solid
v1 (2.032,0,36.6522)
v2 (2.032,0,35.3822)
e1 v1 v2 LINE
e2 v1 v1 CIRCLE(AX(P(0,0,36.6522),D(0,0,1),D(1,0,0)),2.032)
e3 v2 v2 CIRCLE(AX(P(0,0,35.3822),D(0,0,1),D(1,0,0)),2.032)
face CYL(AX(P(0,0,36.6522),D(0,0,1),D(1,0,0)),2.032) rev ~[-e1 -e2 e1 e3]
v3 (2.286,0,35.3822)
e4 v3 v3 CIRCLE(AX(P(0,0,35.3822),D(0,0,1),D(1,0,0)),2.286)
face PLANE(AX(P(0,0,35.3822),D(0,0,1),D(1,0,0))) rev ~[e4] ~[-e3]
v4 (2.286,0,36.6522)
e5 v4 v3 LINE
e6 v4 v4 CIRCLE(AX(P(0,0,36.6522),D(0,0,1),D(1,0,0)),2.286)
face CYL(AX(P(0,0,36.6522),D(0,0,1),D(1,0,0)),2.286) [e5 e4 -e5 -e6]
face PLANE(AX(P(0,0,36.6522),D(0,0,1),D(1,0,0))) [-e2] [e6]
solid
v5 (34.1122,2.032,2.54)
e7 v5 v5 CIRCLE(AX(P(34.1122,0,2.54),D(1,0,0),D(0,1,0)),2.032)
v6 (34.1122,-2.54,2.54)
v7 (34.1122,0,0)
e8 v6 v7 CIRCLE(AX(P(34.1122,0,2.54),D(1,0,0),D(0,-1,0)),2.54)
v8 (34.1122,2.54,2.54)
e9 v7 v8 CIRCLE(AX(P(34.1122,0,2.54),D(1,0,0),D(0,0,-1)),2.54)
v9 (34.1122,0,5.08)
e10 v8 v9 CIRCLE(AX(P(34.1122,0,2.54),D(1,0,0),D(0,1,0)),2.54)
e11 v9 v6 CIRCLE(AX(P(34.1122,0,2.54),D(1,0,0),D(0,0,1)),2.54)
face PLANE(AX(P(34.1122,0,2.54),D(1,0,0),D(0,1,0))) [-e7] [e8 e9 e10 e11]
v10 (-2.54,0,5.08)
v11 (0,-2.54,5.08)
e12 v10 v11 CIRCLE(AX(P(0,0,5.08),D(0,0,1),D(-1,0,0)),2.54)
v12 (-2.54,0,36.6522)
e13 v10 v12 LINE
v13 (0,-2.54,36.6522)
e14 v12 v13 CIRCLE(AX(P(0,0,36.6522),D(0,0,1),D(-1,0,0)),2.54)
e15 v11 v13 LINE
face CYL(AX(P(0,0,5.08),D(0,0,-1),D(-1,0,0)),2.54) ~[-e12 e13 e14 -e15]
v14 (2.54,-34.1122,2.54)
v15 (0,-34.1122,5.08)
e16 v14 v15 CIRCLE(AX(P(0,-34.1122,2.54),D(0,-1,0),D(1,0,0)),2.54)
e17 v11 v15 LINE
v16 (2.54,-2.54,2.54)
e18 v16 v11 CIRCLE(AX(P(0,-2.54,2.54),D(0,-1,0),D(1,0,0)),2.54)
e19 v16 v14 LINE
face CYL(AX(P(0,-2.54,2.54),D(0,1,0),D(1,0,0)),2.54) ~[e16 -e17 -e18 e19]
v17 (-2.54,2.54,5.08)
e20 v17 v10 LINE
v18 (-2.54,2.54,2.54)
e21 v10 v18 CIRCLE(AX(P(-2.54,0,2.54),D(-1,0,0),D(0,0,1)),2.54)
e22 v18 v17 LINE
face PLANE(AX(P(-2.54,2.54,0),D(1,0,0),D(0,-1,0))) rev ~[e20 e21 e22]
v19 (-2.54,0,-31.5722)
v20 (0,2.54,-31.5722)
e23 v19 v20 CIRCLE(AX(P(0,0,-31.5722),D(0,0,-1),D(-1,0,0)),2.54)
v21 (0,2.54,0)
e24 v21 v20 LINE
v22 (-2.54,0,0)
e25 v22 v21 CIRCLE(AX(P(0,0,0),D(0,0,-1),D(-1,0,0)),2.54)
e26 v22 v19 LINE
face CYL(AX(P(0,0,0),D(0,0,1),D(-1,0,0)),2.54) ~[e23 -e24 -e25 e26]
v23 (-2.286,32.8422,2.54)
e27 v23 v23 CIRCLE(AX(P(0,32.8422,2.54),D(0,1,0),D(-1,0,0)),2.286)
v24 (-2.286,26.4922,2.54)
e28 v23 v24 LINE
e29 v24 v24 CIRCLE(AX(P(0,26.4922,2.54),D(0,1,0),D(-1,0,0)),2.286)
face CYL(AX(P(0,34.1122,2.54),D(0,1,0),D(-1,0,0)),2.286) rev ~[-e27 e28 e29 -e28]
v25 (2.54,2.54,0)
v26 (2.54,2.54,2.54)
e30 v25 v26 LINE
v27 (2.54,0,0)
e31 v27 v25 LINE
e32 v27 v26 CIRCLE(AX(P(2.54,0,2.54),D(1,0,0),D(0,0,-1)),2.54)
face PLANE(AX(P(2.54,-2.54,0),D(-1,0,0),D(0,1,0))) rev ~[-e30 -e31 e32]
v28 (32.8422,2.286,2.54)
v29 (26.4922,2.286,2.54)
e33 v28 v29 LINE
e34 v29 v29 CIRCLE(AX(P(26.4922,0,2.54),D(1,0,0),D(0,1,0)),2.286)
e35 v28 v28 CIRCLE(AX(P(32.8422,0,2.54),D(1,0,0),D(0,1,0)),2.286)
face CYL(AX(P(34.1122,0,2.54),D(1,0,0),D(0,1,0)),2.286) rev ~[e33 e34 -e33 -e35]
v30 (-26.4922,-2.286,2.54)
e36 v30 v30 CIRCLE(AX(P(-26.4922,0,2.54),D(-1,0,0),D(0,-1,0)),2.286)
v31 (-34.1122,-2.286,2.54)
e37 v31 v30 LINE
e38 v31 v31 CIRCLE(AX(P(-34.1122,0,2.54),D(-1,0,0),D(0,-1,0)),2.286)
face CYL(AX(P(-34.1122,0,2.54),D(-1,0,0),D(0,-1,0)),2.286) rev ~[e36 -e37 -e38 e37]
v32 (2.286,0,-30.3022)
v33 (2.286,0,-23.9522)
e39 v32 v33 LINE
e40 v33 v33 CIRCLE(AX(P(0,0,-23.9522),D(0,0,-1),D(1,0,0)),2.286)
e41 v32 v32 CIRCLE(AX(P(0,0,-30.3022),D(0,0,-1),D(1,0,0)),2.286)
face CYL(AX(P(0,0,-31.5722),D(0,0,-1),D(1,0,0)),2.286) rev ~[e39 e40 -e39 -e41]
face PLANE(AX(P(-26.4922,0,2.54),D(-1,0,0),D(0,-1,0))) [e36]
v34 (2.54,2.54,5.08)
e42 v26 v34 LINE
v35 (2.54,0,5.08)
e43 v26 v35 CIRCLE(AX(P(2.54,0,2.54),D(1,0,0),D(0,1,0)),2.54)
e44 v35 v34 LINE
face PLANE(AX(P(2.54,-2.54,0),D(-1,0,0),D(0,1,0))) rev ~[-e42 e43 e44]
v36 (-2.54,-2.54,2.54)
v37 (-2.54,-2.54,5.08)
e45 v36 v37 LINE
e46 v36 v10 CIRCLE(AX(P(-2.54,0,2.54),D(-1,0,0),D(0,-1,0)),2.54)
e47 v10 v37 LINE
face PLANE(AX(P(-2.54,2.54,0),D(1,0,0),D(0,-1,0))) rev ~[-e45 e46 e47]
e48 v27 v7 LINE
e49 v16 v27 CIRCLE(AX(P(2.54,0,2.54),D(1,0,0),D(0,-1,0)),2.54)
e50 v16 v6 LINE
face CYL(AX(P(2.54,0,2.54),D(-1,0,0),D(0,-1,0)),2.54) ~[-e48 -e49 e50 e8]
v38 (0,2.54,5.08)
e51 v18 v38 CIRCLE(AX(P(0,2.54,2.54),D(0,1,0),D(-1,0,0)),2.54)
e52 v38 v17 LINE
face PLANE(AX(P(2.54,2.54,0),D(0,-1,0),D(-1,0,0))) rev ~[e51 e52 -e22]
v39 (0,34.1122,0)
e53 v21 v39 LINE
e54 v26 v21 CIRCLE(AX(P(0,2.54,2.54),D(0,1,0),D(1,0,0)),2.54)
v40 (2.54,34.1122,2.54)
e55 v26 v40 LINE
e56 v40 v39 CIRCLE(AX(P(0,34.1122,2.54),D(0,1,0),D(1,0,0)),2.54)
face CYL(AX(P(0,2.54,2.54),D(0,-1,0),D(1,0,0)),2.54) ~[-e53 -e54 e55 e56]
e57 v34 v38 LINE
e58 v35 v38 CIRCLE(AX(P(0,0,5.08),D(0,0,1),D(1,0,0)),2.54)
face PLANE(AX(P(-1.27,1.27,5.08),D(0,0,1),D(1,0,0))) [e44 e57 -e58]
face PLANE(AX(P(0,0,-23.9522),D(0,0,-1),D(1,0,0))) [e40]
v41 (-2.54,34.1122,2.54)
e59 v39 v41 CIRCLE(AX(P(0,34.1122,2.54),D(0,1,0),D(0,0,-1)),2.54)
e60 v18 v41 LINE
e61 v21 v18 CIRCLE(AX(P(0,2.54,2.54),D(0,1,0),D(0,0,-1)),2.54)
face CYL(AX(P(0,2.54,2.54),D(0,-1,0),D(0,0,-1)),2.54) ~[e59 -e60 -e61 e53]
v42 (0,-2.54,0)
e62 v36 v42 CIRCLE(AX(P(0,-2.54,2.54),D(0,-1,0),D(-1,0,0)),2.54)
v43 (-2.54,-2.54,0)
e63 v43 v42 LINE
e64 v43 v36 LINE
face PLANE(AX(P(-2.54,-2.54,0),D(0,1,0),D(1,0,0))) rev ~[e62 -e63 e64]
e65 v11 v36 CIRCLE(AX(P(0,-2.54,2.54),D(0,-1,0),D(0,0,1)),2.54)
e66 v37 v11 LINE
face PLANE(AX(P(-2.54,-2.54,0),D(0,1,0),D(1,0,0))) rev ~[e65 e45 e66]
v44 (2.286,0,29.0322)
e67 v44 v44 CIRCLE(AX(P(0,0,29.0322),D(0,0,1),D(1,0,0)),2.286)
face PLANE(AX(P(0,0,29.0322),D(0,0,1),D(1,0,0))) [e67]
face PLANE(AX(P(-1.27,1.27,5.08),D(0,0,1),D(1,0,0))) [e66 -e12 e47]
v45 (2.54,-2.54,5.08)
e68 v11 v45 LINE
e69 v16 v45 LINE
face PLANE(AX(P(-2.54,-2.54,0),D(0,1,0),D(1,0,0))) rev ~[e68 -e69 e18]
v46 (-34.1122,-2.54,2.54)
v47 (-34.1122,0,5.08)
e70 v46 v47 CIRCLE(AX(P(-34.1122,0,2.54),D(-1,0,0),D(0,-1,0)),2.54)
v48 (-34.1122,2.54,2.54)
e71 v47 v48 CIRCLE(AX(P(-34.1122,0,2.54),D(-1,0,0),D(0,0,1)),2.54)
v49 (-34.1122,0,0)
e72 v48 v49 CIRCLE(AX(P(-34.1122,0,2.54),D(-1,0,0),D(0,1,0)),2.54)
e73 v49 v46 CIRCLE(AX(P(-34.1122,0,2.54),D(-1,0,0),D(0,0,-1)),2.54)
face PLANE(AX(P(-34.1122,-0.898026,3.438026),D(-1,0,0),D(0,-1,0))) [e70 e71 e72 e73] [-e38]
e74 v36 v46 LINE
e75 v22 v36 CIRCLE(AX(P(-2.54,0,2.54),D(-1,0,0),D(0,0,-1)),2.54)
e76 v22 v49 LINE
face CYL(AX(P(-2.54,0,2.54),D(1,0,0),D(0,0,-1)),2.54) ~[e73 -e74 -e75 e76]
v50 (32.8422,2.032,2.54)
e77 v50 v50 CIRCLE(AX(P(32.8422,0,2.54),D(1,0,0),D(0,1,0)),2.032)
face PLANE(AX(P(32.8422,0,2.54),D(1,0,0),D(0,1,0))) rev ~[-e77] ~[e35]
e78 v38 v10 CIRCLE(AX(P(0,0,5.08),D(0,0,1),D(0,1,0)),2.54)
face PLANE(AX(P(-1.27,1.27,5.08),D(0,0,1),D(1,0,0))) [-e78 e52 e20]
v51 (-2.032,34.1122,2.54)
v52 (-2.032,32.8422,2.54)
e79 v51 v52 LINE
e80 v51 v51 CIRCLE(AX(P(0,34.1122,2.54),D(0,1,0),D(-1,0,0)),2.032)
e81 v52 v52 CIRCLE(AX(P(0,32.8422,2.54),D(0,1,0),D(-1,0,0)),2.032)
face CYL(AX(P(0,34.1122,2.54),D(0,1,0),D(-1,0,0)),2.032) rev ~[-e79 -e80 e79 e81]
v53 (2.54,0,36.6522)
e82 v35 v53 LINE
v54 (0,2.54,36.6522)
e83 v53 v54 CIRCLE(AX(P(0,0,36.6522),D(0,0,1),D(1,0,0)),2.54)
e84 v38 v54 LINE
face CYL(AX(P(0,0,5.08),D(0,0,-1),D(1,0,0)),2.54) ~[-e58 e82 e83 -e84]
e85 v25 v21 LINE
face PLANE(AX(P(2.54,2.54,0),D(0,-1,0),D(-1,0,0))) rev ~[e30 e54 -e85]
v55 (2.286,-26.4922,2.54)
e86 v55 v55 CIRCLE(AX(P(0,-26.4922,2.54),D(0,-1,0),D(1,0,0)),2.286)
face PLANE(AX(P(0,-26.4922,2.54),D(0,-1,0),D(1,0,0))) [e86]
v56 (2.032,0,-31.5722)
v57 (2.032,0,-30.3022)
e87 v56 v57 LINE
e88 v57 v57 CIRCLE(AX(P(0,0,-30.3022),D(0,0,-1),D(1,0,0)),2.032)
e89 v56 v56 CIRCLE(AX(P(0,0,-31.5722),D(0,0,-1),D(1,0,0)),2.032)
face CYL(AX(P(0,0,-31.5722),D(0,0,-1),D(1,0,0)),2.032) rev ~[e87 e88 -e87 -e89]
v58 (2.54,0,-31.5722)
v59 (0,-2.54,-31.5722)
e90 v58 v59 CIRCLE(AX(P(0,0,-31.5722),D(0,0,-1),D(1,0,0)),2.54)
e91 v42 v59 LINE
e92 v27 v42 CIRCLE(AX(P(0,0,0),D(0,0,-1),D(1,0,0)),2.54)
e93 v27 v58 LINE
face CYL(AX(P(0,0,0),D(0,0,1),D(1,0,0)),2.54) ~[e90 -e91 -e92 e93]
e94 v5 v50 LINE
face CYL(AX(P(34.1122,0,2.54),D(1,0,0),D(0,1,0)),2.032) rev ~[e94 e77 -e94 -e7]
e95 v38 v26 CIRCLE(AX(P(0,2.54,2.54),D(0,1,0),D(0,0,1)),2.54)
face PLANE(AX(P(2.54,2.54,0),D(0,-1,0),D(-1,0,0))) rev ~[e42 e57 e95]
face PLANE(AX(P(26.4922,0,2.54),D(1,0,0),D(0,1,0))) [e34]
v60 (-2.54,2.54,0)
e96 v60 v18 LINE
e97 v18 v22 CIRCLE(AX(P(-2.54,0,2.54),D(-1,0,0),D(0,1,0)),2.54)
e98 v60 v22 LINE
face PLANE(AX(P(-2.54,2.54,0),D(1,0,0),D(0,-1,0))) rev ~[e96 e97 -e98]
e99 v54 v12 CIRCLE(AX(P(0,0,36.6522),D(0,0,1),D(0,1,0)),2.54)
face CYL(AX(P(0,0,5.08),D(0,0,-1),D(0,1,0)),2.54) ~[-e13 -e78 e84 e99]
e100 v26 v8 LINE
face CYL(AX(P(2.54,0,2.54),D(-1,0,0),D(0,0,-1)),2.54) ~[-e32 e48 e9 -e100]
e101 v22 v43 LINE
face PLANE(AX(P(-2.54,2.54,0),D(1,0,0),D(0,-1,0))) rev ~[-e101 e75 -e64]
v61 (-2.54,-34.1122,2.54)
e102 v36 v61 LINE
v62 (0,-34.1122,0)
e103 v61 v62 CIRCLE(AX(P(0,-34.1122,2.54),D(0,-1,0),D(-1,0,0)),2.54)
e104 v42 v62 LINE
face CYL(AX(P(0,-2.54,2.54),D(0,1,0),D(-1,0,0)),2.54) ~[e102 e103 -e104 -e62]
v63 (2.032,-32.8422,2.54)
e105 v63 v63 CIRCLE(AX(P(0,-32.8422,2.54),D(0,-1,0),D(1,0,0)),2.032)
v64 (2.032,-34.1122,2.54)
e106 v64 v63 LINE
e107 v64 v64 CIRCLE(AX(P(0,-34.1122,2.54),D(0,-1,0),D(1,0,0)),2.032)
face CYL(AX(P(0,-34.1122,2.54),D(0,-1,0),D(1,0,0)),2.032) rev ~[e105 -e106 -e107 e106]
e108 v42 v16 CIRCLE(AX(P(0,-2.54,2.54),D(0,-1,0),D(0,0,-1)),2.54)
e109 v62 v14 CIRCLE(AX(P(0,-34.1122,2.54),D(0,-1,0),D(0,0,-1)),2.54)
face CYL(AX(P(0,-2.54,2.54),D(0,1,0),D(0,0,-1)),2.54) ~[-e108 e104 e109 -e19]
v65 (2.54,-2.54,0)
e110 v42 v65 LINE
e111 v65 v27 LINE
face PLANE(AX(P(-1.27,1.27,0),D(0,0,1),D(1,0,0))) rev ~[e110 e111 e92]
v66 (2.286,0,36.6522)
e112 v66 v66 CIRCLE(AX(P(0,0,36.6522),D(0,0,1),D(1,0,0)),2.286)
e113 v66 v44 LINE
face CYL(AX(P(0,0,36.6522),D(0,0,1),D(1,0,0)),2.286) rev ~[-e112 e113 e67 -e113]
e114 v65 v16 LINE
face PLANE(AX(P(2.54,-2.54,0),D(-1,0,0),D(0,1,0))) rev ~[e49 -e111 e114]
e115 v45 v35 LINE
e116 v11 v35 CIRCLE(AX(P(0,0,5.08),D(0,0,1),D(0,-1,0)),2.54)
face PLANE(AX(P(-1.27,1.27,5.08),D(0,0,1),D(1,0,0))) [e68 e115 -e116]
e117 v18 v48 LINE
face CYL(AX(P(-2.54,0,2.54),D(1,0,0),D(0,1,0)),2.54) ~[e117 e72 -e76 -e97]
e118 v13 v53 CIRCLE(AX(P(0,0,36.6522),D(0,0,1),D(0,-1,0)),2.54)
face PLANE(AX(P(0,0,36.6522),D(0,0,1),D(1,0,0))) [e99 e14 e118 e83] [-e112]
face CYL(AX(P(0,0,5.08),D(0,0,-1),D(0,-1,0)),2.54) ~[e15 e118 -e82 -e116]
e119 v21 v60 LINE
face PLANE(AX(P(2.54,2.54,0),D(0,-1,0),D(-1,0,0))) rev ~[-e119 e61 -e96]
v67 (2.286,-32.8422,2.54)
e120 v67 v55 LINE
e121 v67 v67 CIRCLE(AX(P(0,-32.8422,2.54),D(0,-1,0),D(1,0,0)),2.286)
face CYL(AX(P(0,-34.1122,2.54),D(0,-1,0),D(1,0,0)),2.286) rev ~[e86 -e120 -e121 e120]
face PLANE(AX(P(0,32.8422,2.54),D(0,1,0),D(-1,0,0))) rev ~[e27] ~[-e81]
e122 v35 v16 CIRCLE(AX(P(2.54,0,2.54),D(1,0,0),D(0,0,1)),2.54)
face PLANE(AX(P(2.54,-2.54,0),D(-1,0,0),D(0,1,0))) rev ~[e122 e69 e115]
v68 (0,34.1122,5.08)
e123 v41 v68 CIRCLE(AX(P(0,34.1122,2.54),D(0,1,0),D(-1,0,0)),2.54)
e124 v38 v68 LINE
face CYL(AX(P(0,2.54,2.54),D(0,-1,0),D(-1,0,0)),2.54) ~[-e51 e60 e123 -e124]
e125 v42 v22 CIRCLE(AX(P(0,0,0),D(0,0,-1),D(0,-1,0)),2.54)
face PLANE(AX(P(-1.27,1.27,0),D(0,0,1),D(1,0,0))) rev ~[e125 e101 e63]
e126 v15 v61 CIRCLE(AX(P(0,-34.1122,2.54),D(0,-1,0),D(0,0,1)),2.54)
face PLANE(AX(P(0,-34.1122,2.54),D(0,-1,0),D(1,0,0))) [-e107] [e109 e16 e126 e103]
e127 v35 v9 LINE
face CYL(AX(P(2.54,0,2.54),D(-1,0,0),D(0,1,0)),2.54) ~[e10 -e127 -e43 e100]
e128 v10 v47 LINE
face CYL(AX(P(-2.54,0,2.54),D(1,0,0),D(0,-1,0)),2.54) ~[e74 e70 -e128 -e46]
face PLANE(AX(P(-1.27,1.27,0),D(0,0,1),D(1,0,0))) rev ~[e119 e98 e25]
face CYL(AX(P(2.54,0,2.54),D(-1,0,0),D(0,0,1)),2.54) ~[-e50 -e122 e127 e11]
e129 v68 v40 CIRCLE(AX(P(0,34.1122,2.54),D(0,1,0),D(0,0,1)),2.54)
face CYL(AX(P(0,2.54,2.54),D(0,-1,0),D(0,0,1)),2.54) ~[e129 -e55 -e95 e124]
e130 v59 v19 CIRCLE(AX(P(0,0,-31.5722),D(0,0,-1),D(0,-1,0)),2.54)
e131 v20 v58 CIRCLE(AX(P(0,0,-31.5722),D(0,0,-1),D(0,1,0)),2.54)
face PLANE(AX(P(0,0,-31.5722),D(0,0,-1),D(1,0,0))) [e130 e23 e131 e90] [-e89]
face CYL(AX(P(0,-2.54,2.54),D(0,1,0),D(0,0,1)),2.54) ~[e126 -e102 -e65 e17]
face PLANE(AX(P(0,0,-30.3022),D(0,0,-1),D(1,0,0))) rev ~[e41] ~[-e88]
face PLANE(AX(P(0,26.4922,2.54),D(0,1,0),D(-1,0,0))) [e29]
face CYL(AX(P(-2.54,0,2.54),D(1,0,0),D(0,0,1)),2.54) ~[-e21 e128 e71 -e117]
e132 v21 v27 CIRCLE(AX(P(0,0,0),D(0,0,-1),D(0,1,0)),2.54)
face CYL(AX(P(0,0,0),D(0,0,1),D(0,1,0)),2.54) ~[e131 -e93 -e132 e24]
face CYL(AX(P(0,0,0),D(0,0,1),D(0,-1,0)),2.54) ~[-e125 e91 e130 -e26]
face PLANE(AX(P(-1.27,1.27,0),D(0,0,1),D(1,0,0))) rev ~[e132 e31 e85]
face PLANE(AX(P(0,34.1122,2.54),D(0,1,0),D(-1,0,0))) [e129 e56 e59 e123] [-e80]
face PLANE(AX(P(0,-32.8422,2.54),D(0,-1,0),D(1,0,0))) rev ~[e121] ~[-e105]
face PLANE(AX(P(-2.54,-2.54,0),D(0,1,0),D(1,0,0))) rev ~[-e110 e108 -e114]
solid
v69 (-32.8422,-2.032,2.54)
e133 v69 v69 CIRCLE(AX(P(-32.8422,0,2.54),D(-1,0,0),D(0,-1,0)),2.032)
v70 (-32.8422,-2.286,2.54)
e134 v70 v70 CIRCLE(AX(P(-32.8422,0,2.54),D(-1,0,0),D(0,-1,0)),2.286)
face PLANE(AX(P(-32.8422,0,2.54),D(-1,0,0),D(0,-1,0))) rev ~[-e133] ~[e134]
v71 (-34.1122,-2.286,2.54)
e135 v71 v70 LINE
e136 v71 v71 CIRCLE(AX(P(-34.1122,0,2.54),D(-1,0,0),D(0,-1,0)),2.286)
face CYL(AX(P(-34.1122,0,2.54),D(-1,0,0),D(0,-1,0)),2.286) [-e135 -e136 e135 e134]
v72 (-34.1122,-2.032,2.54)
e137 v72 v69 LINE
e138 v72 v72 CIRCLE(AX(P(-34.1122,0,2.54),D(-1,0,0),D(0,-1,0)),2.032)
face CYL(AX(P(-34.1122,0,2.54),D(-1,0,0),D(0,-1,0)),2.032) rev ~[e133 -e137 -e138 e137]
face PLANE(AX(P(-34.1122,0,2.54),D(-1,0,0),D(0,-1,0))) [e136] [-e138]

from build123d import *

# Parameters (mm, degrees)
F0_W      = 2.54
F0_H      = 2.54
F1_DEPTH  = 5.08
F8_DEPTH  = 31.5722
F9_R      = 2.286
F9_R_2    = 2.032
F10_DEPTH = 7.62
F11_DEPTH = 1.27
F12_DEPTH = 31.5722
F13_R     = 2.286
F13_R_2   = 2.032
F14_DEPTH = 7.62
F15_DEPTH = 1.27
F16_DEPTH = 31.5722
F17_R     = 2.286
F17_R_2   = 2.032
F18_DEPTH = 7.62
F19_DEPTH = 1.27
F20_DEPTH = 31.5722
F21_R     = 2.286
F21_R_2   = 2.032
F22_DEPTH = 7.62
F23_DEPTH = 1.27
F24_DEPTH = 31.5722
F25_R     = 2.286
F25_R_2   = 2.032
F26_DEPTH = 7.62
F27_DEPTH = 1.27
F28_DEPTH = 31.5722
F29_R     = 2.286
F29_R_2   = 2.032
F30_DEPTH = 7.62
F31_DEPTH = 1.27


with BuildPart() as f1:
    # F0 (on Top) → F1 (new body)
    with BuildSketch(Plane.XY):
        with Locations((-1.27, 1.27)):
            Rectangle(F0_W, F0_H)
        with Locations((1.27, 1.27)):
            Rectangle(F0_W, F0_H)
        Polygon((2.54, -2.54), (2.54, 0), (0, -2.54), align=None)
        Polygon((2.54, 0), (0, 0), (0, -2.54), align=None)
        with Locations((-1.27, -1.27)):
            Rectangle(F0_W, F0_H)
    extrude(amount=F1_DEPTH)

    # F7 (on face) → F8 (join)
    with BuildSketch(Plane(origin=(0, 0, 0), x_dir=(1, 0, 0), z_dir=(0, 0, -1))):
        with BuildLine():
            ThreePointArc((0, -2.54), (1.7960512242, -1.7960512242), (2.54, 0))
            ThreePointArc((2.54, 0), (1.7960512242, 1.7960512242), (0, 2.54))
            ThreePointArc((0, 2.54), (-1.7960512242, 1.7960512242), (-2.54, 0))
            ThreePointArc((-2.54, 0), (-1.7960512242, -1.7960512242), (0, -2.54))
        make_face()
    extrude(amount=F8_DEPTH)

    # F9 (on face) → F10 (cut)
    with BuildSketch(Plane(origin=(0, 0, -31.5722), x_dir=(1, 0, 0), z_dir=(0, 0, -1))):
        Circle(F9_R)
        Circle(F9_R_2, mode=Mode.SUBTRACT)
        Circle(F9_R_2)
    extrude(amount=-F10_DEPTH, mode=Mode.SUBTRACT)

    # F9 (on face) → F11 (join)
    with BuildSketch(Plane(origin=(0, 0, -31.5722), x_dir=(1, 0, 0), z_dir=(0, 0, -1))):
        Circle(F9_R)
        Circle(F9_R_2, mode=Mode.SUBTRACT)
    extrude(amount=-F11_DEPTH)

    # F6 (on face) → F12 (join)
    with BuildSketch(Plane.YZ.offset(2.54)):
        with BuildLine():
            ThreePointArc((0, 0), (1.7960512242, 0.7439487758), (2.54, 2.54))
            ThreePointArc((2.54, 2.54), (1.7960512242, 4.3360512242), (0, 5.08))
            ThreePointArc((0, 5.08), (-1.7960512242, 4.3360512242), (-2.54, 2.54))
            ThreePointArc((-2.54, 2.54), (-1.7960512242, 0.7439487758), (0, 0))
        make_face()
    extrude(amount=F12_DEPTH)

    # F13 (on face) → F14 (cut)
    with BuildSketch(Plane.YZ.offset(34.1122)):
        with Locations((0, 2.54)):
            Circle(F13_R)
        with Locations((0, 2.54)):
            Circle(F13_R_2, mode=Mode.SUBTRACT)
        with Locations((0, 2.54)):
            Circle(F13_R_2)
    extrude(amount=-F14_DEPTH, mode=Mode.SUBTRACT)

    # F13 (on face) → F15 (join)
    with BuildSketch(Plane.YZ.offset(34.1122)):
        with Locations((0, 2.54)):
            Circle(F13_R)
        with Locations((0, 2.54)):
            Circle(F13_R_2, mode=Mode.SUBTRACT)
    extrude(amount=-F15_DEPTH)

    # F3 (on face) → F16 (join)
    with BuildSketch(Plane.XZ.offset(2.54)):
        with BuildLine():
            Line((0, 2.54), (0, 5.08))
            ThreePointArc((0, 5.08), (-1.7960512242, 4.3360512242), (-2.54, 2.54))
            Line((-2.54, 2.54), (0, 2.54))
        make_face()
        with BuildLine():
            ThreePointArc((2.54, 2.54), (1.7960512242, 4.3360512242), (0, 5.08))
            Line((0, 5.08), (0, 2.54))
            Line((0, 2.54), (2.54, 2.54))
        make_face()
        with BuildLine():
            Line((2.54, 2.54), (0, 2.54))
            Line((0, 2.54), (0, 0))
            ThreePointArc((0, 0), (1.7960512242, 0.7439487758), (2.54, 2.54))
        make_face()
        Polygon((0, 0), (0, 2.54), (-2.54, 2.54), align=None)
        with BuildLine():
            Line((0, 0), (-2.54, 2.54))
            ThreePointArc((-2.54, 2.54), (-1.7960512242, 0.7439487758), (0, 0))
        make_face()
    extrude(amount=F16_DEPTH)

    # F17 (on face) → F18 (cut)
    with BuildSketch(Plane.XZ.offset(34.1122)):
        with Locations((0, 2.54)):
            Circle(F17_R)
        with Locations((0, 2.54)):
            Circle(F17_R_2, mode=Mode.SUBTRACT)
        with Locations((0, 2.54)):
            Circle(F17_R_2)
    extrude(amount=-F18_DEPTH, mode=Mode.SUBTRACT)

    # F17 (on face) → F19 (join)
    with BuildSketch(Plane.XZ.offset(34.1122)):
        with Locations((0, 2.54)):
            Circle(F17_R)
        with Locations((0, 2.54)):
            Circle(F17_R_2, mode=Mode.SUBTRACT)
    extrude(amount=-F19_DEPTH)

    # F4 (on face) → F20 (join)
    with BuildSketch(Plane(origin=(0, 2.54, 0), x_dir=(-1, 0, 0), z_dir=(0, 1, 0))):
        with BuildLine():
            ThreePointArc((0, 0), (1.7960512242, 0.7439487758), (2.54, 2.54))
            ThreePointArc((2.54, 2.54), (1.7960512242, 4.3360512242), (0, 5.08))
            ThreePointArc((0, 5.08), (-1.7960512242, 4.3360512242), (-2.54, 2.54))
            ThreePointArc((-2.54, 2.54), (-1.7960512242, 0.7439487758), (0, 0))
        make_face()
    extrude(amount=F20_DEPTH)

    # F21 (on face) → F22 (cut)
    with BuildSketch(Plane(origin=(0, 34.1122, 0), x_dir=(-1, 0, 0), z_dir=(0, 1, 0))):
        with Locations((0, 2.54)):
            Circle(F21_R)
        with Locations((0, 2.54)):
            Circle(F21_R_2, mode=Mode.SUBTRACT)
        with Locations((0, 2.54)):
            Circle(F21_R_2)
    extrude(amount=-F22_DEPTH, mode=Mode.SUBTRACT)

    # F21 (on face) → F23 (join)
    with BuildSketch(Plane(origin=(0, 34.1122, 0), x_dir=(-1, 0, 0), z_dir=(0, 1, 0))):
        with Locations((0, 2.54)):
            Circle(F21_R)
        with Locations((0, 2.54)):
            Circle(F21_R_2, mode=Mode.SUBTRACT)
    extrude(amount=-F23_DEPTH)

    # F2 (on face) → F24 (join)
    with BuildSketch(Plane.XY.offset(5.08)):
        with BuildLine():
            ThreePointArc((0, -2.54), (1.7960512242, -1.7960512242), (2.54, 0))
            ThreePointArc((2.54, 0), (1.7960512242, 1.7960512242), (0, 2.54))
            ThreePointArc((0, 2.54), (-1.7960512242, 1.7960512242), (-2.54, 0))
            ThreePointArc((-2.54, 0), (-1.7960512242, -1.7960512242), (0, -2.54))
        make_face()
    extrude(amount=F24_DEPTH)

    # F25 (on face) → F26 (cut)
    with BuildSketch(Plane.XY.offset(36.6522)):
        Circle(F25_R)
        Circle(F25_R_2, mode=Mode.SUBTRACT)
        Circle(F25_R_2)
    extrude(amount=-F26_DEPTH, mode=Mode.SUBTRACT)

    # F5 (on face) → F28 (join)
    with BuildSketch(Plane(origin=(-2.54, 0, 0), x_dir=(0, -1, 0), z_dir=(-1, 0, 0))):
        Polygon((0, 5.08), (0, 2.54), (2.54, 2.54), align=None)
        with BuildLine():
            ThreePointArc((2.54, 2.54), (1.7960512242, 4.3360512242), (0, 5.08))
            Line((0, 5.08), (2.54, 2.54))
        make_face()
        with BuildLine():
            Line((2.54, 2.54), (0, 2.54))
            Line((0, 2.54), (0, 0))
            ThreePointArc((0, 0), (1.7960512242, 0.7439487758), (2.54, 2.54))
        make_face()
        with BuildLine():
            ThreePointArc((0, 5.08), (-1.7960512242, 4.3360512242), (-2.54, 2.54))
            Line((-2.54, 2.54), (0, 2.54))
            Line((0, 2.54), (0, 5.08))
        make_face()
        with BuildLine():
            Line((0, 2.54), (-2.54, 2.54))
            ThreePointArc((-2.54, 2.54), (-1.7960512242, 0.7439487758), (0, 0))
            Line((0, 0), (0, 2.54))
        make_face()
    extrude(amount=F28_DEPTH)

    # F29 (on face) → F30 (cut)
    with BuildSketch(Plane(origin=(-34.1122, 0, 0), x_dir=(0, -1, 0), z_dir=(-1, 0, 0))):
        with Locations((0, 2.54)):
            Circle(F29_R)
        with Locations((0, 2.54)):
            Circle(F29_R_2, mode=Mode.SUBTRACT)
        with Locations((0, 2.54)):
            Circle(F29_R_2)
    extrude(amount=-F30_DEPTH, mode=Mode.SUBTRACT)


with BuildPart() as f27:
    # F25 (on face) → F27 (new body)
    with BuildSketch(Plane.XY.offset(36.6522)):
        Circle(F25_R)
        Circle(F25_R_2, mode=Mode.SUBTRACT)
    extrude(amount=-F27_DEPTH)


with BuildPart() as f31:
    # F29 (on face) → F31 (new body)
    with BuildSketch(Plane(origin=(-34.1122, 0, 0), x_dir=(0, -1, 0), z_dir=(-1, 0, 0))):
        with Locations((0, 2.54)):
            Circle(F29_R)
        with Locations((0, 2.54)):
            Circle(F29_R_2, mode=Mode.SUBTRACT)
    extrude(amount=-F31_DEPTH)


solid = Compound([f1.part, f27.part, f31.part])
